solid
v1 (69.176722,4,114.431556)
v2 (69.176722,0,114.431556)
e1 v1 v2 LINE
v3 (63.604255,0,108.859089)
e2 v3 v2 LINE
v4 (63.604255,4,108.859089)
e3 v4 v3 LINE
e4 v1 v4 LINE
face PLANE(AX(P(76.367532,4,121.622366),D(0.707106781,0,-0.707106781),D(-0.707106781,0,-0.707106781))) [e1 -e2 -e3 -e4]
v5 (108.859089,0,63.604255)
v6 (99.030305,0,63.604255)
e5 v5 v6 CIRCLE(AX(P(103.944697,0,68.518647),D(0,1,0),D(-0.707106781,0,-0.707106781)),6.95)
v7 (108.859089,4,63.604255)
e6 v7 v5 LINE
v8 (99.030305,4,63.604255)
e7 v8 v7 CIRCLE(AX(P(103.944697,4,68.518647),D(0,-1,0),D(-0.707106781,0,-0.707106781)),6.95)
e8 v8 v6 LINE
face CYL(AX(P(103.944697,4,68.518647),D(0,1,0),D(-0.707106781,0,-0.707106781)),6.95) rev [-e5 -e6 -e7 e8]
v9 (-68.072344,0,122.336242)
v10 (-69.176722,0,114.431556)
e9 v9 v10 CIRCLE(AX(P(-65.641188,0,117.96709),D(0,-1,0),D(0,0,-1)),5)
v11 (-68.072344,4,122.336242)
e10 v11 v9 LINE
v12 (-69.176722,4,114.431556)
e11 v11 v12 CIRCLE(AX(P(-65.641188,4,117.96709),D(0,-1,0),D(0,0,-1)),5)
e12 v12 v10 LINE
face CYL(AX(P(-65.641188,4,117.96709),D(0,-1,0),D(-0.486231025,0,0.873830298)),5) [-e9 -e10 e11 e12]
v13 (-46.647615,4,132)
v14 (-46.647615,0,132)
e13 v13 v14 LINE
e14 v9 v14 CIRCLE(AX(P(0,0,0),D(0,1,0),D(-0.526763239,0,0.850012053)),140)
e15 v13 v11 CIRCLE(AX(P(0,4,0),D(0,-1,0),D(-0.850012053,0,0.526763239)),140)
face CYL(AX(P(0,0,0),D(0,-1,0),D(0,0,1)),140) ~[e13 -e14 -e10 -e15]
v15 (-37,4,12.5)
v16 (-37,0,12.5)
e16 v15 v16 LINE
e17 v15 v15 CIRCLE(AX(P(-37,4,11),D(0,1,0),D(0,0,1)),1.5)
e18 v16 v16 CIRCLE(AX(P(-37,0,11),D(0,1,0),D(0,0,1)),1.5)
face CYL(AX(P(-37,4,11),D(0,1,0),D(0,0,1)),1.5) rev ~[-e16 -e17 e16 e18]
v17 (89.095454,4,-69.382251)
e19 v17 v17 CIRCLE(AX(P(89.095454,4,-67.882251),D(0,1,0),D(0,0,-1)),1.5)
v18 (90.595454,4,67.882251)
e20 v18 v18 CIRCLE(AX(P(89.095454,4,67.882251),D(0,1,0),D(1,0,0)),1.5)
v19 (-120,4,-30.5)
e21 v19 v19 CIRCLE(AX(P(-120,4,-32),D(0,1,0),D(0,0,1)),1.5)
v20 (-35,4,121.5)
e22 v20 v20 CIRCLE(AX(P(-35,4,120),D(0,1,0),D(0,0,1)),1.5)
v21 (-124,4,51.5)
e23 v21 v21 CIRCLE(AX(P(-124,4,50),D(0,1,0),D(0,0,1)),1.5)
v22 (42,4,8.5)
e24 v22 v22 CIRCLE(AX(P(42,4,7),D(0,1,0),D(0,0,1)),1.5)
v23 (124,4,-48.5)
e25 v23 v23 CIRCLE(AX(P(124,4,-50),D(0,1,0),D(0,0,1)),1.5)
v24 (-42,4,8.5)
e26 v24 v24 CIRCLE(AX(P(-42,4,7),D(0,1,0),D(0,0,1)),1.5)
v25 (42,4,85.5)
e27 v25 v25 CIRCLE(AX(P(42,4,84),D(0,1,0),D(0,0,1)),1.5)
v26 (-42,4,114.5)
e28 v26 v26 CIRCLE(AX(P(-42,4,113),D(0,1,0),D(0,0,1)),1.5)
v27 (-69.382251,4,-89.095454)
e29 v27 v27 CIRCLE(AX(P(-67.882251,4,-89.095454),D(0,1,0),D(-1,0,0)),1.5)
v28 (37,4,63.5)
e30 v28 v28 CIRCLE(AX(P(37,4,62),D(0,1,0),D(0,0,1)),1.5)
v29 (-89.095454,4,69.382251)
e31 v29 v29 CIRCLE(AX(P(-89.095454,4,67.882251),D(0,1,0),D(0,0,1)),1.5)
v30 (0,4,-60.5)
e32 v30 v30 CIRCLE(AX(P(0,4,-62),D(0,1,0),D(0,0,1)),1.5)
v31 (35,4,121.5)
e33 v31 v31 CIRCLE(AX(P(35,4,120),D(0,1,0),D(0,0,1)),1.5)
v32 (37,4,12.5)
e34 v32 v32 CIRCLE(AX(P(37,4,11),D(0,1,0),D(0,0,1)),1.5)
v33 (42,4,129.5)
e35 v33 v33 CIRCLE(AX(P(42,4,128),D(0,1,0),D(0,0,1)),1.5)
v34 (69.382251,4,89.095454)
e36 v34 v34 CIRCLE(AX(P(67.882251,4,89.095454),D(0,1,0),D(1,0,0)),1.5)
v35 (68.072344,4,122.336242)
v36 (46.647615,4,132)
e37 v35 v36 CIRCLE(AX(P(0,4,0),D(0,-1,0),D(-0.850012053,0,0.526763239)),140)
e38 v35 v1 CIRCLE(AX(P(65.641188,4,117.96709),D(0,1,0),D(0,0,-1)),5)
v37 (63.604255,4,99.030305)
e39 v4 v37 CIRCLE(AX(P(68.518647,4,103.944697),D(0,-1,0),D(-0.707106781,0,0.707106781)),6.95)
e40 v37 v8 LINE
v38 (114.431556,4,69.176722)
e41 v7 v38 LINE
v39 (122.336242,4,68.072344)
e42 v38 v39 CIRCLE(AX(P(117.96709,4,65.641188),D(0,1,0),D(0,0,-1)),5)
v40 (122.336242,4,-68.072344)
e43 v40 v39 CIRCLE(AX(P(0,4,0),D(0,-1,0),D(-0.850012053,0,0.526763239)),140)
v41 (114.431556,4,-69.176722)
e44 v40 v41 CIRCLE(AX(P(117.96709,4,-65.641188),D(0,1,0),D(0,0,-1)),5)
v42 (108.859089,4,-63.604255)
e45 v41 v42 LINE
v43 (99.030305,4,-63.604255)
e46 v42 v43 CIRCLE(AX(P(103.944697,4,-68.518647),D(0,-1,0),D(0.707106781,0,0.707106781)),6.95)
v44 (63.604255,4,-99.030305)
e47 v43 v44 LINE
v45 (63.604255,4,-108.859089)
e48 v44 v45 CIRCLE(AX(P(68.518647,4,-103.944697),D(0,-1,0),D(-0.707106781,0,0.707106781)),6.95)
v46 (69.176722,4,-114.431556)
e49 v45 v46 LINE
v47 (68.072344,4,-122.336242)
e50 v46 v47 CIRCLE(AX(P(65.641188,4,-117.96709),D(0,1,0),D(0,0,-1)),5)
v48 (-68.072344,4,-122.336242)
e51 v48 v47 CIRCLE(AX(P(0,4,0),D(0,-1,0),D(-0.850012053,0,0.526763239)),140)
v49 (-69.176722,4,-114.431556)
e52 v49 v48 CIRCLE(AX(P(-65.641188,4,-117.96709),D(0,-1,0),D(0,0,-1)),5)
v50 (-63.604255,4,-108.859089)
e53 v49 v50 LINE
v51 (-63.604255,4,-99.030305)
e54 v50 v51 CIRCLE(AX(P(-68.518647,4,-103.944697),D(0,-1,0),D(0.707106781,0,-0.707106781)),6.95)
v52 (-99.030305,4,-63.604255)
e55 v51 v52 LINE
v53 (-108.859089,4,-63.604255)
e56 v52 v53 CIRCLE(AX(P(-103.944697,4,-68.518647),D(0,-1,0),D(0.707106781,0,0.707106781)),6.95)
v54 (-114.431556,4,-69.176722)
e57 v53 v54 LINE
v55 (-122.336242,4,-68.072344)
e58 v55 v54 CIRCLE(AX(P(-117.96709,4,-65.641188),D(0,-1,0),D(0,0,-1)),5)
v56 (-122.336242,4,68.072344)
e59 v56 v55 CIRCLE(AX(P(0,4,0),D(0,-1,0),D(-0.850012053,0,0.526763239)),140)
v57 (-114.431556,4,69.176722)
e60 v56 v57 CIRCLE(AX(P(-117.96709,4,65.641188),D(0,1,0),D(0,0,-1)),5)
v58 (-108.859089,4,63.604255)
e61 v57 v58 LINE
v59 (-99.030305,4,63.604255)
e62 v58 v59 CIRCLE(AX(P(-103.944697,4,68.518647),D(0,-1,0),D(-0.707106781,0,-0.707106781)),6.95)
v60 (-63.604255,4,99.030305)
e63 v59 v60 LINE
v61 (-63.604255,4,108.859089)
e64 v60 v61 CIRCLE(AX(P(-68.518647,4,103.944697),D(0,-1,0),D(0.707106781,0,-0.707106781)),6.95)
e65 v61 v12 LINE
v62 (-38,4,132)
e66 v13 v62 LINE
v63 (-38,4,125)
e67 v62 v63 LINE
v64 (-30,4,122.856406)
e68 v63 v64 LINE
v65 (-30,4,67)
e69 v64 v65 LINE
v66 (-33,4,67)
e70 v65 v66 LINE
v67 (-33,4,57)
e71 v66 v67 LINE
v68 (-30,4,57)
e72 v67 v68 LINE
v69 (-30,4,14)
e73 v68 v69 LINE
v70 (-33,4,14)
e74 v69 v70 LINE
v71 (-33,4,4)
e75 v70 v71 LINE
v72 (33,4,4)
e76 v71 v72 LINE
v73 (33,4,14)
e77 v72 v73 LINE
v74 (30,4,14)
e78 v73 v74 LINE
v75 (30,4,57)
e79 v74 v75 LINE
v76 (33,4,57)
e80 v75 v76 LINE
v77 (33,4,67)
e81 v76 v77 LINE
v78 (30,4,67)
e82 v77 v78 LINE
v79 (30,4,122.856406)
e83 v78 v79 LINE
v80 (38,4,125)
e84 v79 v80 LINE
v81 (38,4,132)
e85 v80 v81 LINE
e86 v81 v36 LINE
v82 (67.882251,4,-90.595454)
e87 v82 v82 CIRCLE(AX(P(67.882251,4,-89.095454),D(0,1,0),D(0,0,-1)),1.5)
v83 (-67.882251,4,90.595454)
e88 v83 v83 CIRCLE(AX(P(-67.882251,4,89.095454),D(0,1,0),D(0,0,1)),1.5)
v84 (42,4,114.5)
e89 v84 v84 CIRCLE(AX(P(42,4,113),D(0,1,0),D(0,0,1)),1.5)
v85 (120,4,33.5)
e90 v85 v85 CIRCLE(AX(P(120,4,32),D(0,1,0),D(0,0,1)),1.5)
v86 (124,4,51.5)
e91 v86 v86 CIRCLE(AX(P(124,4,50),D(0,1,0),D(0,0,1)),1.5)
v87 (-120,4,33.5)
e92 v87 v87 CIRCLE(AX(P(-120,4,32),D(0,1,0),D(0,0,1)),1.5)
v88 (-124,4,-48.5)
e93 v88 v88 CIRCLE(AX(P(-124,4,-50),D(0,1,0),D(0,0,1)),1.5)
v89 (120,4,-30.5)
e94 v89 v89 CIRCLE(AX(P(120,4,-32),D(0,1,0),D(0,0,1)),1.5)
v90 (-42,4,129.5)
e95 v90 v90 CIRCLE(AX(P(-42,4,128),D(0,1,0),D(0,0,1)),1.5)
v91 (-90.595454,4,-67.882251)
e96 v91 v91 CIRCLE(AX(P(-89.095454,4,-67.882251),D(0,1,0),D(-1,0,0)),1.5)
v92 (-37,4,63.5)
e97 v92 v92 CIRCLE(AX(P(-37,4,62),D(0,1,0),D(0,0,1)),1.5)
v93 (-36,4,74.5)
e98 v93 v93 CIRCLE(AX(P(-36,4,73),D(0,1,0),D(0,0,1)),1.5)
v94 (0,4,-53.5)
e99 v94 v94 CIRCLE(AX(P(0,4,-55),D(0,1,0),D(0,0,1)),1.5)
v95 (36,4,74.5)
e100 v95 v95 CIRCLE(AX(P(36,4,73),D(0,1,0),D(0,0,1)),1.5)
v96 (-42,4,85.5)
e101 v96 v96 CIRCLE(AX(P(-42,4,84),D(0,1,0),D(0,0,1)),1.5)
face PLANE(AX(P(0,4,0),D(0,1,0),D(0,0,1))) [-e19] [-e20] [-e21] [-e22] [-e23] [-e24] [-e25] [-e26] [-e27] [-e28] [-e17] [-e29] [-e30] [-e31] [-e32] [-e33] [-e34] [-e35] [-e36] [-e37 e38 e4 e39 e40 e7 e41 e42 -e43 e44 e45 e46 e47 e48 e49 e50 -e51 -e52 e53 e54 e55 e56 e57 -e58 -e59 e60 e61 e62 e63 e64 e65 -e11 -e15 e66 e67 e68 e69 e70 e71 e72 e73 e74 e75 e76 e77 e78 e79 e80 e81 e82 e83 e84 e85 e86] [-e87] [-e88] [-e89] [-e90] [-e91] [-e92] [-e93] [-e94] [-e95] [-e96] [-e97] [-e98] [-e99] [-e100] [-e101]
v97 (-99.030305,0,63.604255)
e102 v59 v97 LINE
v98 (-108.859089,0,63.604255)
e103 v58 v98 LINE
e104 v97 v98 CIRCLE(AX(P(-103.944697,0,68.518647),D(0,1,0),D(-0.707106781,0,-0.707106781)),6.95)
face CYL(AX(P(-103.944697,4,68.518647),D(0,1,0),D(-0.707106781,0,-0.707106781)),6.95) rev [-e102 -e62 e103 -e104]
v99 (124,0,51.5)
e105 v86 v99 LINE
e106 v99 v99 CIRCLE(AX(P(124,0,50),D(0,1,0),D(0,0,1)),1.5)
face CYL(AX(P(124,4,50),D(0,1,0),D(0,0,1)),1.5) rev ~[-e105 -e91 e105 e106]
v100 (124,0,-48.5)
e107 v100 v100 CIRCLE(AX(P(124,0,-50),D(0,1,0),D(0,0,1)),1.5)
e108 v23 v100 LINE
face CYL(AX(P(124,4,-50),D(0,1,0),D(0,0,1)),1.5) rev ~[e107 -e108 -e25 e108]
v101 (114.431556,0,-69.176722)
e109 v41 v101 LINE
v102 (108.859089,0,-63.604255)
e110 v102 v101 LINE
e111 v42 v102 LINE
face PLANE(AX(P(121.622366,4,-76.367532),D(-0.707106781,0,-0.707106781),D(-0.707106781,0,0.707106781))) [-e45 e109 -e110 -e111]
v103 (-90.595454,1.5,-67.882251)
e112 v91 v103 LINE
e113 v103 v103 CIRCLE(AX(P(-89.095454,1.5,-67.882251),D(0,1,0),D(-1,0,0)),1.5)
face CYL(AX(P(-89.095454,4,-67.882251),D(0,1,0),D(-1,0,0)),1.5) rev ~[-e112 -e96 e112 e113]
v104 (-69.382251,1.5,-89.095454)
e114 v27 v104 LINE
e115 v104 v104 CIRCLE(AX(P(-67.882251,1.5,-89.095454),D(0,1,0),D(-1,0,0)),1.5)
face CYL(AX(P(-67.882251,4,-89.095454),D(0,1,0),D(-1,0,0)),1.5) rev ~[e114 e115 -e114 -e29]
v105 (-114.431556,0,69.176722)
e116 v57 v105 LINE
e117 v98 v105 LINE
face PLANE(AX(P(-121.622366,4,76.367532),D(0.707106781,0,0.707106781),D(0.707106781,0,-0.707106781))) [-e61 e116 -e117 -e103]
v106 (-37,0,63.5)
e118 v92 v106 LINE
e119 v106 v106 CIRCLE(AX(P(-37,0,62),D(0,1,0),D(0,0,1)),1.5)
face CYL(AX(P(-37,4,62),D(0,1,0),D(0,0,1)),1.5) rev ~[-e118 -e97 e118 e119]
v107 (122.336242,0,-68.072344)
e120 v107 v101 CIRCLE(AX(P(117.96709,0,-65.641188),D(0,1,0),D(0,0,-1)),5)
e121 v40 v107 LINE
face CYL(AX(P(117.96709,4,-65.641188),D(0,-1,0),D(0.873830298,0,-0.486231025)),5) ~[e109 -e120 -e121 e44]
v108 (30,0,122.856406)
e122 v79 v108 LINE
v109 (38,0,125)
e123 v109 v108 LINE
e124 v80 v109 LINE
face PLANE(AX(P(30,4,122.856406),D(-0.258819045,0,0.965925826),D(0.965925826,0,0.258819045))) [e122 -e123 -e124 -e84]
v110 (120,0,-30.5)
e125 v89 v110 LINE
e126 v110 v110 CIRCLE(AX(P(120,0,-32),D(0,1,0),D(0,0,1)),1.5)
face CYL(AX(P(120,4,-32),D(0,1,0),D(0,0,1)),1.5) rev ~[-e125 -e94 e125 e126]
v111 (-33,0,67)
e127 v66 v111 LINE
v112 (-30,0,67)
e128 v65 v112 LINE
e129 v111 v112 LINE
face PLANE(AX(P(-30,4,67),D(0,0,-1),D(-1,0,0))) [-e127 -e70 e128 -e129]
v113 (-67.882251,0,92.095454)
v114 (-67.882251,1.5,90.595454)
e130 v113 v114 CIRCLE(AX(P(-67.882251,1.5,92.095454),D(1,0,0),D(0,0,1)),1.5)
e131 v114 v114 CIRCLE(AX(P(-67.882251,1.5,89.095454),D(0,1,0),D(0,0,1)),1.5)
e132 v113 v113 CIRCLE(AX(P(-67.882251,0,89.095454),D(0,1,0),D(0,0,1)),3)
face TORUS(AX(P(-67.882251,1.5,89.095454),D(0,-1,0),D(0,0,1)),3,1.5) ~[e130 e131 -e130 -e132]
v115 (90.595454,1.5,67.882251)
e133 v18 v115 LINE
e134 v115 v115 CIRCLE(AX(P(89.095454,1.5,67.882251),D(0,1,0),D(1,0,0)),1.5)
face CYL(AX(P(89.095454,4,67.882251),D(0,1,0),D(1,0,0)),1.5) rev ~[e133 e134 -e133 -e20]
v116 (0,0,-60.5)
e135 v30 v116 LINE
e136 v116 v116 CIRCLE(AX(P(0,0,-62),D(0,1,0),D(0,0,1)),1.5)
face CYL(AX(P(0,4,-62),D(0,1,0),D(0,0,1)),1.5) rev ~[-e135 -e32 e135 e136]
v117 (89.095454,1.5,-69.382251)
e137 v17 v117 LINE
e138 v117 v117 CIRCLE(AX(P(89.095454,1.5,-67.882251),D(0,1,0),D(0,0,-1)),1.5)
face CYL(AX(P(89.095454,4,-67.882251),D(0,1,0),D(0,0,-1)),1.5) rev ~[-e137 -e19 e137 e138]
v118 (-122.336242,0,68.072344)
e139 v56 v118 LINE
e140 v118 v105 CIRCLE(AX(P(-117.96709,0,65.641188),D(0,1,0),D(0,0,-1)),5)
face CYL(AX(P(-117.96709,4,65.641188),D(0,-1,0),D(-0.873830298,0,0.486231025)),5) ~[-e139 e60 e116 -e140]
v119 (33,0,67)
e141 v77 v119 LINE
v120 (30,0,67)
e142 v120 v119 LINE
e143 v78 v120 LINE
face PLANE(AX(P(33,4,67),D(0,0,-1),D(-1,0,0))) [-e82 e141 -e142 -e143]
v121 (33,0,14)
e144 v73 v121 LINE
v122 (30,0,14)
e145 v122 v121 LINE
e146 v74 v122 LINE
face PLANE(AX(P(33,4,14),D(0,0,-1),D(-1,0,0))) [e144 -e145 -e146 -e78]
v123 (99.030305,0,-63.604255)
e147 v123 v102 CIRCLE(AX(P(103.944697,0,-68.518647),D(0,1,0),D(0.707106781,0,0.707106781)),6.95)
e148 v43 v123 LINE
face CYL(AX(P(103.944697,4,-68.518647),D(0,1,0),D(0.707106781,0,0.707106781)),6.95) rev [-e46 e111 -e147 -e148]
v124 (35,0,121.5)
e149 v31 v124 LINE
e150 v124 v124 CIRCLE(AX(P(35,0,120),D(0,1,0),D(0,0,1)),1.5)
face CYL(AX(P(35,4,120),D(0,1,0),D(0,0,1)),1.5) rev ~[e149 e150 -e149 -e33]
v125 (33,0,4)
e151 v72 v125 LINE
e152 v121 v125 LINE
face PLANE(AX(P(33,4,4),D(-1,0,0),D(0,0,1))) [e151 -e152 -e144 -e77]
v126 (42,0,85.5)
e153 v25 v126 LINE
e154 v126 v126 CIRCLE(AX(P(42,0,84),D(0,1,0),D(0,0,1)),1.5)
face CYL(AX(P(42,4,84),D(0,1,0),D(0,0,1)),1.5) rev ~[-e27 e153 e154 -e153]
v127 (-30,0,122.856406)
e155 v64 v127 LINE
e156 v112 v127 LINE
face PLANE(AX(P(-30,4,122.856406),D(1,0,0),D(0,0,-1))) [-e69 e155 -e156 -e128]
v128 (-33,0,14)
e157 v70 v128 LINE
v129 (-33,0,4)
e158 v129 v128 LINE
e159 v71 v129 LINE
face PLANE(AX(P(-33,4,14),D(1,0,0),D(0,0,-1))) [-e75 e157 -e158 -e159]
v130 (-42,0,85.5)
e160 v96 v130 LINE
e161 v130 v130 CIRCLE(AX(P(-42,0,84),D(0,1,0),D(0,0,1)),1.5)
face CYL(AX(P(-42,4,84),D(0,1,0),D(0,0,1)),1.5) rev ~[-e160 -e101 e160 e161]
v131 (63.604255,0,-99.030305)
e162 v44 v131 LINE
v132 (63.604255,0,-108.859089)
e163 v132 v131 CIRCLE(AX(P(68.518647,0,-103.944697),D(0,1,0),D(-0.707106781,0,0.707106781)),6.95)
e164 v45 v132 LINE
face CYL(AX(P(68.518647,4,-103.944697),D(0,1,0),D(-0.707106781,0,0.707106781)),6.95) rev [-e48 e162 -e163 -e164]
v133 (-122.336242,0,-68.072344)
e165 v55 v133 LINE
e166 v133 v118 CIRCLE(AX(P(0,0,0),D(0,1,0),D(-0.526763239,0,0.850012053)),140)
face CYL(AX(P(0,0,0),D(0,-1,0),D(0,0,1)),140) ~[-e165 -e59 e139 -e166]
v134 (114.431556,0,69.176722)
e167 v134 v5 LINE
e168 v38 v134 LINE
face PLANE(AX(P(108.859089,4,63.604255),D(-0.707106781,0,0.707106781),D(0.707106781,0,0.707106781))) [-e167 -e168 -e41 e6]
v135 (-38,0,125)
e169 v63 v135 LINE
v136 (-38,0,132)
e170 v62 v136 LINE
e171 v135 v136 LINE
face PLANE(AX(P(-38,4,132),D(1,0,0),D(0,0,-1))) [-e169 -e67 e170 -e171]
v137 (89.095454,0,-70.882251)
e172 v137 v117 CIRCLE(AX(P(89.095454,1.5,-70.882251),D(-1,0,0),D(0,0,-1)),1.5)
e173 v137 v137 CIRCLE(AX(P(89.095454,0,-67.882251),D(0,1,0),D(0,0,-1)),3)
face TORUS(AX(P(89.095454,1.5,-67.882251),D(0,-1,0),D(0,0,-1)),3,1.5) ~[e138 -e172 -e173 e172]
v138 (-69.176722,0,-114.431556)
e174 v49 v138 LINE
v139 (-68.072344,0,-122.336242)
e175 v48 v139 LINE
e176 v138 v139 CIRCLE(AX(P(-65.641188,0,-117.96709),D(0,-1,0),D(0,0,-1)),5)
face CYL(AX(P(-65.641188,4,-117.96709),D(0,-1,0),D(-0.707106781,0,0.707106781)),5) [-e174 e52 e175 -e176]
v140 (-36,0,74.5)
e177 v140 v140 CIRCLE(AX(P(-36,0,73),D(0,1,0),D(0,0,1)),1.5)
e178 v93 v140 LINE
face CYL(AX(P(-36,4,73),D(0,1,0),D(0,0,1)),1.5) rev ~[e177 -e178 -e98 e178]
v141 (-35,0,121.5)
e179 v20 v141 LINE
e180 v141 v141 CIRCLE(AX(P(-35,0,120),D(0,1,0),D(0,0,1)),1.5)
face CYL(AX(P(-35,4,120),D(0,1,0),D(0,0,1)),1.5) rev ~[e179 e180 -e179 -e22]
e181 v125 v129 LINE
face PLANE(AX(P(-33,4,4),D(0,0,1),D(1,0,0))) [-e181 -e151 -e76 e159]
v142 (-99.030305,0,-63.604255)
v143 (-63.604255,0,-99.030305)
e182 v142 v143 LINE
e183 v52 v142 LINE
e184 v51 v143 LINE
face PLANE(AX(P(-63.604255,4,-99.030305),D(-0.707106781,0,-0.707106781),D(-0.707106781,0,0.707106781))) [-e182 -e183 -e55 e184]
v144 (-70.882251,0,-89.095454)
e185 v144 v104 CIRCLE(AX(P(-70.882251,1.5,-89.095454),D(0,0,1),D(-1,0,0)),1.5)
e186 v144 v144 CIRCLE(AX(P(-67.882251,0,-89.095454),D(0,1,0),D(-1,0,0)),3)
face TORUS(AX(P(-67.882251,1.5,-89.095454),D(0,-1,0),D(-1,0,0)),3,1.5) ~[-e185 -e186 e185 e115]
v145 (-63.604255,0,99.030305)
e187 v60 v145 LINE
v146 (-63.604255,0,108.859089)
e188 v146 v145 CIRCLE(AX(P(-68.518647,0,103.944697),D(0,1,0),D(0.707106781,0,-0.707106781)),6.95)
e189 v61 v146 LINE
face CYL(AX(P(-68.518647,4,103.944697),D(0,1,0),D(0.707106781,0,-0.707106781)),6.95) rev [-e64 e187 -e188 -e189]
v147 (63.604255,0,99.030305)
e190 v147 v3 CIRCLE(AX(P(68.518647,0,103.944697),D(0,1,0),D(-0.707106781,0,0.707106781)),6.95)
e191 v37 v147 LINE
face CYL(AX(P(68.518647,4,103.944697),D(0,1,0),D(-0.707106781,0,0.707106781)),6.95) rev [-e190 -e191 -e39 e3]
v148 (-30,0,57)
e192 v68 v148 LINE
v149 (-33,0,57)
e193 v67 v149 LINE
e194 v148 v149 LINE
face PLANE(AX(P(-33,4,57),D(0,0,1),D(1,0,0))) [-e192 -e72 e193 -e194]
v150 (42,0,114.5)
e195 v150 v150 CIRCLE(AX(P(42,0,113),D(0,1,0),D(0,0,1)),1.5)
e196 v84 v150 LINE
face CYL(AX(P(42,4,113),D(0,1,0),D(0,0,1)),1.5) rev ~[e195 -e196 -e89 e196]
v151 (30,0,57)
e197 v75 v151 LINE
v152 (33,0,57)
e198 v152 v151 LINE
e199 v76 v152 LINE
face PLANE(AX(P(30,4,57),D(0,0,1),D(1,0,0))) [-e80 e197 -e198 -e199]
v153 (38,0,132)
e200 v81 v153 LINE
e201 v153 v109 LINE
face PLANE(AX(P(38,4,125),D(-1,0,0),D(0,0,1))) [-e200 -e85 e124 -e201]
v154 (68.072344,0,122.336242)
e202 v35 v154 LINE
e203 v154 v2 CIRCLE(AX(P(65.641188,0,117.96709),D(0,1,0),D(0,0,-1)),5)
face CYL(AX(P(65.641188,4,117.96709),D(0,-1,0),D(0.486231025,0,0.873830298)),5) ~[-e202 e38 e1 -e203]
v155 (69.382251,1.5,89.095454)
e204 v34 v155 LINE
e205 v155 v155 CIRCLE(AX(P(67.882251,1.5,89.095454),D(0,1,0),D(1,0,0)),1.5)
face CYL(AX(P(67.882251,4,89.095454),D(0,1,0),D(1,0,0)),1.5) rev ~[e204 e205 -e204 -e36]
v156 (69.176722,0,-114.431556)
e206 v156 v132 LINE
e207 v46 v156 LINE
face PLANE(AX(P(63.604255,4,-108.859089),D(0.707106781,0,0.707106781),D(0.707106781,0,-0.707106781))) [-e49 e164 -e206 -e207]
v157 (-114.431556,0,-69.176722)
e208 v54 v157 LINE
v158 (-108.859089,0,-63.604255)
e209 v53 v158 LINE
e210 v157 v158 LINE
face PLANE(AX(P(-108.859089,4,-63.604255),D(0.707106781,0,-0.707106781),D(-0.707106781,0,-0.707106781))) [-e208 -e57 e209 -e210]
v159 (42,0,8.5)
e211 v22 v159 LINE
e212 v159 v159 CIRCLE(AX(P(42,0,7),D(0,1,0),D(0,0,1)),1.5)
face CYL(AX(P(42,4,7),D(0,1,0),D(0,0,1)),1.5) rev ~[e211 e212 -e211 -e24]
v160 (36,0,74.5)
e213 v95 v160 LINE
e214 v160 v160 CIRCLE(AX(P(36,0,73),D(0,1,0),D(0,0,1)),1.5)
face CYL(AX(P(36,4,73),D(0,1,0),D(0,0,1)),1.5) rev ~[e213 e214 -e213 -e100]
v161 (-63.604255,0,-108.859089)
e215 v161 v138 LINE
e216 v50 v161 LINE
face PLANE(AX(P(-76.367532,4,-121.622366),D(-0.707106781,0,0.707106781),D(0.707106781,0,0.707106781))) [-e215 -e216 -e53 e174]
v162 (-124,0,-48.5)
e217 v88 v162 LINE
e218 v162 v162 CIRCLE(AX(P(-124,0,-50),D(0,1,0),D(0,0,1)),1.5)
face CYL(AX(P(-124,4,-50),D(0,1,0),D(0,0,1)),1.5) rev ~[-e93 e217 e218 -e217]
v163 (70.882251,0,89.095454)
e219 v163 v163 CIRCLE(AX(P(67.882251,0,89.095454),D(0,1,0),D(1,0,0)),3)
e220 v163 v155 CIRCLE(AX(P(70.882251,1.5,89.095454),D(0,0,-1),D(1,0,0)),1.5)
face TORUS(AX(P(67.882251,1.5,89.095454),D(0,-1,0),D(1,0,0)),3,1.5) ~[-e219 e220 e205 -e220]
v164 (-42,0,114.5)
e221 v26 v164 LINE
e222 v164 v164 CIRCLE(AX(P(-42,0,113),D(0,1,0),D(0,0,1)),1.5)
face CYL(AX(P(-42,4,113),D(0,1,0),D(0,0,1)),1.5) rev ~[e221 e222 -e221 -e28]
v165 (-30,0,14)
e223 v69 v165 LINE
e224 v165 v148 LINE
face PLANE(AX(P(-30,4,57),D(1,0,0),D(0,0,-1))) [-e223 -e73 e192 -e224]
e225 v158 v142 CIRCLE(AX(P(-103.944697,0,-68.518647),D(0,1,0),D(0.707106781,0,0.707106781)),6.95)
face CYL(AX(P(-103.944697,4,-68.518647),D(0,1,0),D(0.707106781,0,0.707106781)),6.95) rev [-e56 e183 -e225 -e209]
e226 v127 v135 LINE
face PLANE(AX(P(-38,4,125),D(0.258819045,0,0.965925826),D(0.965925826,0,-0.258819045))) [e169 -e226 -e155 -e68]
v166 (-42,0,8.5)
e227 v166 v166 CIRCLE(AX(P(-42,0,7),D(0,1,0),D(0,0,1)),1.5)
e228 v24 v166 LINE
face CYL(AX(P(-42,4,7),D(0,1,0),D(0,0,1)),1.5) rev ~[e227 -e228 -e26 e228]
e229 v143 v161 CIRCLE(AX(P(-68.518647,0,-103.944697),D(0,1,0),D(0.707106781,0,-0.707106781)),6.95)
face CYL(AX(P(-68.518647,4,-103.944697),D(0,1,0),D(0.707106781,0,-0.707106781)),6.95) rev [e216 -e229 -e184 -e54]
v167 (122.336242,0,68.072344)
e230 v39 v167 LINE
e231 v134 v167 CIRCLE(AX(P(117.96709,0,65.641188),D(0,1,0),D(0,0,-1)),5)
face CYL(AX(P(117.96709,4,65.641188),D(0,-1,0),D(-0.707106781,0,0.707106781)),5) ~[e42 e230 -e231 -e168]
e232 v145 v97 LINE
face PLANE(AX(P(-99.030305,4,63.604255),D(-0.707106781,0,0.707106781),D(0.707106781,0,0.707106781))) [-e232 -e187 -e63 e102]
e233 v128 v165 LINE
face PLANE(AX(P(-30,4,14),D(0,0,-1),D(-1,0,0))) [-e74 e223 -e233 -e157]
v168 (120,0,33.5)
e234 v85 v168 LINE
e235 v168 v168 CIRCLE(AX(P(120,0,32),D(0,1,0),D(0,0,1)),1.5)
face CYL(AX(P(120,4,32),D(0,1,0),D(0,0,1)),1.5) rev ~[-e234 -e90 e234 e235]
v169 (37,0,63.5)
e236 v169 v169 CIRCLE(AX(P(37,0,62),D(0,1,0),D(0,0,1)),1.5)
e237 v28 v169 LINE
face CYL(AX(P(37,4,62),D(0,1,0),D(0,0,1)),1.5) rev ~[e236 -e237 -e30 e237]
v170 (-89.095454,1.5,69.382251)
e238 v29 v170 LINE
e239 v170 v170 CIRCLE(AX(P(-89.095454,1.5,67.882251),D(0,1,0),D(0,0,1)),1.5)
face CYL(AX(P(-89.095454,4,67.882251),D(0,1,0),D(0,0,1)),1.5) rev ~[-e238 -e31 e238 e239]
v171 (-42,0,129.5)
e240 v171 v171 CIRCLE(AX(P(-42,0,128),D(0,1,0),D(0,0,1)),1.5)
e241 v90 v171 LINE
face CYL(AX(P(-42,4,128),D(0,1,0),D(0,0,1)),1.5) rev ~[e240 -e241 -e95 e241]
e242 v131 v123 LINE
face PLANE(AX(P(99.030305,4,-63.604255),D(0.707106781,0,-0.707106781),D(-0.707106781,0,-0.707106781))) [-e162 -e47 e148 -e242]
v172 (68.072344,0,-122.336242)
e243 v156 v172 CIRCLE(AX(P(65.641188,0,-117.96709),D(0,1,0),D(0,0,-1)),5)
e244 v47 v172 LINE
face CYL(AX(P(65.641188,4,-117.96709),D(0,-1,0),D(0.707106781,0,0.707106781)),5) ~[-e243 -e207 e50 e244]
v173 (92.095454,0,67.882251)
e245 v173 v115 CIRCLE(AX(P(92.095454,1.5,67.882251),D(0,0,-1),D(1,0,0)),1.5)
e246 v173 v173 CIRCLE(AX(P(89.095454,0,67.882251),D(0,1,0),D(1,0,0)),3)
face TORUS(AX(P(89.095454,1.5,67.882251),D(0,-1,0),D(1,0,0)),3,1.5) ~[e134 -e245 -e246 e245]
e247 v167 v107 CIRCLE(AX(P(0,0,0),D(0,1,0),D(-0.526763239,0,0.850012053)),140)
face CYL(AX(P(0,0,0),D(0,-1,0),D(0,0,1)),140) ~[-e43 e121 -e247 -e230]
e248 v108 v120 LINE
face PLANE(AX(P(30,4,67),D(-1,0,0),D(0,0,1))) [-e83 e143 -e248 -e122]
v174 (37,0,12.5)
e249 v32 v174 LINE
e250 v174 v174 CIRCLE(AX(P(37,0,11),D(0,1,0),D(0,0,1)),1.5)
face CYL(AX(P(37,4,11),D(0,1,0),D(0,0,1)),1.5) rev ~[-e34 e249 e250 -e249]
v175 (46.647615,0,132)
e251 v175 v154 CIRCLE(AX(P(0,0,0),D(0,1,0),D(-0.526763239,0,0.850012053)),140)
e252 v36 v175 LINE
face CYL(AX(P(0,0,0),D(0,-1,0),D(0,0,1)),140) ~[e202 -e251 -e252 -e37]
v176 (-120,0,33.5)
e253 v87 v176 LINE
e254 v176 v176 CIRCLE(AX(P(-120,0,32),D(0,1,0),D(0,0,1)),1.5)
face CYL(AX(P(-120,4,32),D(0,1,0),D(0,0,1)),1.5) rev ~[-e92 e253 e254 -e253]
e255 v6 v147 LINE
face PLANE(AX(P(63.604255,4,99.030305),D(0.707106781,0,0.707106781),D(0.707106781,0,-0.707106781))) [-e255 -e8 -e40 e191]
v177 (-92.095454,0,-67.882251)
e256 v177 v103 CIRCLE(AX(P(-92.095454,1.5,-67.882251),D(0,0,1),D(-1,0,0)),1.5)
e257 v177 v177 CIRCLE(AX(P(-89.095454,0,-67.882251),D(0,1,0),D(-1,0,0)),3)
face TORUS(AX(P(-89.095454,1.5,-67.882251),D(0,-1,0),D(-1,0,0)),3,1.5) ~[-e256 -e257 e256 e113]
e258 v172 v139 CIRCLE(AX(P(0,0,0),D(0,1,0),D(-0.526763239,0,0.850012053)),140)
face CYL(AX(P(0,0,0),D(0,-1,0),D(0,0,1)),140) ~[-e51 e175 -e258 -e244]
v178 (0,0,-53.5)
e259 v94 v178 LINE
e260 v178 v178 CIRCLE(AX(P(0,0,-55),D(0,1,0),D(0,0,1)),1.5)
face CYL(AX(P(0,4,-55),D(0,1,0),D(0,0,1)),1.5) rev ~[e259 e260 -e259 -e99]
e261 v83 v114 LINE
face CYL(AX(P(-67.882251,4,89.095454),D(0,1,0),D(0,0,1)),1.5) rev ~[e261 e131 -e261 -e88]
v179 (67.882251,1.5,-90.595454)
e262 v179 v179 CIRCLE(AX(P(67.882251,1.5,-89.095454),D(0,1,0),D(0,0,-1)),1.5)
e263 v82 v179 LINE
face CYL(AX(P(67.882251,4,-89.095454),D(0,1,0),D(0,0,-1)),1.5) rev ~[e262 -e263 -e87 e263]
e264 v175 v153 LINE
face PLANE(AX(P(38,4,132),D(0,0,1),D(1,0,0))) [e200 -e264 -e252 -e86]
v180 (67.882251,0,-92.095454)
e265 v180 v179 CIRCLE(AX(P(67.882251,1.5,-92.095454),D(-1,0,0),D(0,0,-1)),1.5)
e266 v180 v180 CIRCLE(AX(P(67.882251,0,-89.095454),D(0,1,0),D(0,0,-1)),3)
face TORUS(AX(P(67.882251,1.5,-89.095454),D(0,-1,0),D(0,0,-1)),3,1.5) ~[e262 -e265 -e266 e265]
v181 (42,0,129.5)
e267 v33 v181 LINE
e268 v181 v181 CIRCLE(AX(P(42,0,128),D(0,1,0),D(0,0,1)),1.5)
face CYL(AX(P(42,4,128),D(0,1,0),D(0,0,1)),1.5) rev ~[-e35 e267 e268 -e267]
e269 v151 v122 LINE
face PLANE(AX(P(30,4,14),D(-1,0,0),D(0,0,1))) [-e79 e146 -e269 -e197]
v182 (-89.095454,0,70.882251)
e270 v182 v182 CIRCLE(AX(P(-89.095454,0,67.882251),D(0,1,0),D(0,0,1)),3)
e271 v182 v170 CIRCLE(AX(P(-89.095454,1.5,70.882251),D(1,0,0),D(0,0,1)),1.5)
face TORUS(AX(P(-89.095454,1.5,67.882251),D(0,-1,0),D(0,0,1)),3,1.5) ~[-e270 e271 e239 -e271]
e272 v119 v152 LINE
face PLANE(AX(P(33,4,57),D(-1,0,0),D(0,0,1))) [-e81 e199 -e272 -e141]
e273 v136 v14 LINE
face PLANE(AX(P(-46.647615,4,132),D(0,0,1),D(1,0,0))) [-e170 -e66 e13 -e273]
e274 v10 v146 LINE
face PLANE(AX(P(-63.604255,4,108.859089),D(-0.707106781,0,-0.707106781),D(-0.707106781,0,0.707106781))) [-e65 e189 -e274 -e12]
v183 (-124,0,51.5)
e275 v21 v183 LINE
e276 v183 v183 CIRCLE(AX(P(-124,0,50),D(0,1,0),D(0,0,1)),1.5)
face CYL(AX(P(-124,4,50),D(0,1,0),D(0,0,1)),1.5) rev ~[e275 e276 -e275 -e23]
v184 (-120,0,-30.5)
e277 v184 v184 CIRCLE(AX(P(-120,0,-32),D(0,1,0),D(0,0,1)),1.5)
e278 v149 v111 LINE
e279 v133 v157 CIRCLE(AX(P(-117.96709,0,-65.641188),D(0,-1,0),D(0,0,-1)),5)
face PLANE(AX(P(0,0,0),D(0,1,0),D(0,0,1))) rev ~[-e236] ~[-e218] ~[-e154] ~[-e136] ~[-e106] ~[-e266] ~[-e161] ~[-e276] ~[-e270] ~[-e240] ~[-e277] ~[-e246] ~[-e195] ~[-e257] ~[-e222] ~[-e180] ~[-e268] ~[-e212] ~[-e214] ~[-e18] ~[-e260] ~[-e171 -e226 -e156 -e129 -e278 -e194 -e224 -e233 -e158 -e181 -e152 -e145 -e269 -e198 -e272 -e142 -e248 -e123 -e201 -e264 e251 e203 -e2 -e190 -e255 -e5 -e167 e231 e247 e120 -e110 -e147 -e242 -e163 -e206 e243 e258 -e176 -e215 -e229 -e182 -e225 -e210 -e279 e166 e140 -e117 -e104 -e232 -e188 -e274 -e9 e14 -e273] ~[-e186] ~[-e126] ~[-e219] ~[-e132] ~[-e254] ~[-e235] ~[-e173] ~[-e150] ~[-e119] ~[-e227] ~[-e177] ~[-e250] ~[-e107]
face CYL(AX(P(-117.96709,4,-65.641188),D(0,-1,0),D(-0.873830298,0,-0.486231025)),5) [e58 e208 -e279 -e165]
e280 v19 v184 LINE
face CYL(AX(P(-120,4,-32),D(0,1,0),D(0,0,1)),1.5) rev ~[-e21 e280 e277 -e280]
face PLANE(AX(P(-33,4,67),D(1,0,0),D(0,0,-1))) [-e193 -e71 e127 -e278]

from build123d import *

# Parameters (mm, degrees)
SKETCH1_R                = 140
BOSS_EXTRUDE1_DEPTH      = 4
CUT_EXTRUDE4_REACH       = 200.03
CUT_EXTRUDE6_REACH       = 200.03
SKETCH9_R                = 1.5
FILLET1_R                = 5
CIRPATTERN1_COUNT        = 4
FILLET1_OF_CIRPATTERN1_R = 5
CUT_EXTRUDE1_REACH       = 200.03
FILLET3_R                = 1.5
CUT_EXTRUDE7_REACH       = 200.03
SKETCH10_R               = 1.5
CUT_EXTRUDE9_REACH       = 200.03
SKETCH13_R               = 1.5
CUT_EXTRUDE12_REACH      = 200.03
SKETCH16_R               = 1.5
CUT_EXTRUDE13_REACH      = 200.03
SKETCH17_R               = 1.5
CUT_EXTRUDE15_REACH      = 200.03
SKETCH19_R               = 1.5
CUT_EXTRUDE17_REACH      = 200.03
SKETCH21_R               = 1.5
CUT_EXTRUDE18_REACH      = 200.03
SKETCH22_R               = 1.5


with BuildPart() as part:
    # Sketch1 → Boss-Extrude1 (new body)
    with BuildSketch(Plane(origin=(0, 0, 0), x_dir=(1, 0, 0), z_dir=(0, 1, 0))):
        with Locations(Location((0, 0, 0), (0, 0, 270))):
            Circle(SKETCH1_R)
    extrude(amount=BOSS_EXTRUDE1_DEPTH)

    # Sketch7 → Cut-Extrude4 (cut, up to next)
    with BuildSketch(Plane(origin=(0, 4, 0), x_dir=(1, 0, 0), z_dir=(0, 1, 0)), mode=Mode.PRIVATE) as cut_extrude4_sk1:
        with BuildLine():
            Line((-99.030304705, -63.604254968), (-63.604254968, -99.030304705))
            ThreePointArc((-63.604254968, -99.030304705), (-61.568647097, -103.944696834), (-63.604254968, -108.859088964))
            Line((-63.604254968, -108.859088964), (-76.367532368, -121.622366364))
            Line((-76.367532368, -121.622366364), (-121.622366364, -76.367532368))
            Line((-121.622366364, -76.367532368), (-108.859088964, -63.604254968))
            ThreePointArc((-108.859088964, -63.604254968), (-103.944696834, -61.568647097), (-99.030304705, -63.604254968))
        make_face()
    cut_extrude4_tool1 = extrude(cut_extrude4_sk1.sketch, amount=-CUT_EXTRUDE4_REACH, mode=Mode.PRIVATE) & part.part
    cut_extrude4 = cut_extrude4_tool1.solids().sort_by_distance((-90.257735, 4, 90.257735))[0]
    add(cut_extrude4, mode=Mode.SUBTRACT)

    # Sketch9 → Cut-Extrude6 (cut, up to next)
    with BuildSketch(Plane(origin=(0, 4, 0), x_dir=(1, 0, 0), z_dir=(0, 1, 0)), mode=Mode.PRIVATE) as cut_extrude6_sk1:
        with Locations(Location((-89.09545443, -67.882250994, 0), (0, 0, 270))):
            Circle(SKETCH9_R)
    cut_extrude6_tool1 = extrude(cut_extrude6_sk1.sketch, amount=-CUT_EXTRUDE6_REACH, mode=Mode.PRIVATE) & part.part
    # Sketch9 → Cut-Extrude6 (cut, up to next)
    with BuildSketch(Plane(origin=(0, 4, 0), x_dir=(1, 0, 0), z_dir=(0, 1, 0)), mode=Mode.PRIVATE) as cut_extrude6_sk2:
        with Locations(Location((-67.882250994, -89.09545443, 0), (0, 0, 270))):
            Circle(SKETCH9_R)
    cut_extrude6_tool2 = extrude(cut_extrude6_sk2.sketch, amount=-CUT_EXTRUDE6_REACH, mode=Mode.PRIVATE) & part.part
    cut_extrude6_1 = cut_extrude6_tool1.solids().sort_by_distance((-89.095454, 4, 67.882251))[0]
    add(cut_extrude6_1, mode=Mode.SUBTRACT)
    cut_extrude6_2 = cut_extrude6_tool2.solids().sort_by_distance((-67.882251, 4, 89.095454))[0]
    add(cut_extrude6_2, mode=Mode.SUBTRACT)
    cut_extrude6 = cut_extrude6_1 + cut_extrude6_2  # Cut-Extrude6 as one shape, for the pattern or mirror that repeats it

    # Fillet1
    fillet1_edges = [part.edges().sort_by_distance(p)[0] for p in [
        (-119.001687423, 2, 73.746853427),
        (-73.746853427, 2, 119.001687423),
    ]]
    fillet(fillet1_edges, radius=FILLET1_R)

    # CirPattern1: Cut-Extrude4, Cut-Extrude6 ×4 about axis
    cirpattern1_axis = Axis((0, 0, 0), (0, 1, 0))
    add([cut_extrude4.rotate(cirpattern1_axis, i * 360 / CIRPATTERN1_COUNT) for i in range(1, CIRPATTERN1_COUNT)], mode=Mode.SUBTRACT)
    add([cut_extrude6.rotate(cirpattern1_axis, i * 360 / CIRPATTERN1_COUNT) for i in range(1, CIRPATTERN1_COUNT)], mode=Mode.SUBTRACT)

    # Fillet1 of CirPattern1
    fillet1_of_cirpattern1_edges = [part.edges().sort_by_distance(p)[0] for p in [
        (73.746853427, 2, 119.001687423),
        (119.001687423, 2, 73.746853427),
        (119.001687423, 2, -73.746853427),
        (73.746853427, 2, -119.001687423),
        (-73.746853427, 2, -119.001687423),
        (-119.001687423, 2, -73.746853427),
    ]]
    fillet(fillet1_of_cirpattern1_edges, radius=FILLET1_OF_CIRPATTERN1_R)

    # Sketch2 → Cut-Extrude1 (cut, up to next)
    with BuildSketch(Plane(origin=(0, 4, 0), x_dir=(1, 0, 0), z_dir=(0, 1, 0)), mode=Mode.PRIVATE) as cut_extrude1_sk1:
        Polygon((-46.647615159, -132), (-38, -132), (-38, -125), (-30, -122.856406461), (-30, -67), (-33, -67), (-33, -57), (-30, -57), (-30, -14), (-33, -14), (-33, -4), (33, -4), (33, -14), (30, -14), (30, -57), (33, -57), (33, -67), (30, -67), (30, -122.856406461), (38, -125), (38, -132), (46.647615159, -132), (46.647615159, -140), (-46.647615159, -140), align=None)
    cut_extrude1_tool1 = extrude(cut_extrude1_sk1.sketch, amount=-CUT_EXTRUDE1_REACH, mode=Mode.PRIVATE) & part.part
    add(cut_extrude1_tool1.solids().sort_by_distance((0, 4, 74.292867))[0], mode=Mode.SUBTRACT)

    # Fillet3
    fillet3_edges = [part.edges().sort_by_distance(p)[0] for p in [
        (66.382250994, 0, 89.09545443),
        (87.59545443, 0, 67.882250994),
        (89.09545443, 0, -66.382250994),
        (67.882250994, 0, -87.59545443),
        (-66.382250994, 0, -89.09545443),
        (-87.59545443, 0, -67.882250994),
        (-89.09545443, 0, 66.382250994),
        (-67.882250994, 0, 87.59545443),
    ]]
    fillet(fillet3_edges, radius=FILLET3_R)

    # Sketch10 → Cut-Extrude7 (cut, up to next)
    with BuildSketch(Plane(origin=(0, 4, 0), x_dir=(1, 0, 0), z_dir=(0, 1, 0)), mode=Mode.PRIVATE) as cut_extrude7_sk1:
        with Locations(Location((-37, -62, 0), (0, 0, 270))):
            Circle(SKETCH10_R)
    cut_extrude7_tool1 = extrude(cut_extrude7_sk1.sketch, amount=-CUT_EXTRUDE7_REACH, mode=Mode.PRIVATE) & part.part
    # Sketch10 → Cut-Extrude7 (cut, up to next)
    with BuildSketch(Plane(origin=(0, 4, 0), x_dir=(1, 0, 0), z_dir=(0, 1, 0)), mode=Mode.PRIVATE) as cut_extrude7_sk2:
        with Locations(Location((37, -62, 0), (0, 0, 270))):
            Circle(SKETCH10_R)
    cut_extrude7_tool2 = extrude(cut_extrude7_sk2.sketch, amount=-CUT_EXTRUDE7_REACH, mode=Mode.PRIVATE) & part.part
    # Sketch10 → Cut-Extrude7 (cut, up to next)
    with BuildSketch(Plane(origin=(0, 4, 0), x_dir=(1, 0, 0), z_dir=(0, 1, 0)), mode=Mode.PRIVATE) as cut_extrude7_sk3:
        with Locations(Location((-37, -11, 0), (0, 0, 270))):
            Circle(SKETCH10_R)
    cut_extrude7_tool3 = extrude(cut_extrude7_sk3.sketch, amount=-CUT_EXTRUDE7_REACH, mode=Mode.PRIVATE) & part.part
    # Sketch10 → Cut-Extrude7 (cut, up to next)
    with BuildSketch(Plane(origin=(0, 4, 0), x_dir=(1, 0, 0), z_dir=(0, 1, 0)), mode=Mode.PRIVATE) as cut_extrude7_sk4:
        with Locations(Location((37, -11, 0), (0, 0, 270))):
            Circle(SKETCH10_R)
    cut_extrude7_tool4 = extrude(cut_extrude7_sk4.sketch, amount=-CUT_EXTRUDE7_REACH, mode=Mode.PRIVATE) & part.part
    # Sketch10 → Cut-Extrude7 (cut, up to next)
    with BuildSketch(Plane(origin=(0, 4, 0), x_dir=(1, 0, 0), z_dir=(0, 1, 0)), mode=Mode.PRIVATE) as cut_extrude7_sk5:
        with Locations(Location((-42, -7, 0), (0, 0, 270))):
            Circle(SKETCH10_R)
    cut_extrude7_tool5 = extrude(cut_extrude7_sk5.sketch, amount=-CUT_EXTRUDE7_REACH, mode=Mode.PRIVATE) & part.part
    # Sketch10 → Cut-Extrude7 (cut, up to next)
    with BuildSketch(Plane(origin=(0, 4, 0), x_dir=(1, 0, 0), z_dir=(0, 1, 0)), mode=Mode.PRIVATE) as cut_extrude7_sk6:
        with Locations(Location((42, -7, 0), (0, 0, 270))):
            Circle(SKETCH10_R)
    cut_extrude7_tool6 = extrude(cut_extrude7_sk6.sketch, amount=-CUT_EXTRUDE7_REACH, mode=Mode.PRIVATE) & part.part
    add(cut_extrude7_tool1.solids().sort_by_distance((-37, 4, 62))[0], mode=Mode.SUBTRACT)
    add(cut_extrude7_tool2.solids().sort_by_distance((37, 4, 62))[0], mode=Mode.SUBTRACT)
    add(cut_extrude7_tool3.solids().sort_by_distance((-37, 4, 11))[0], mode=Mode.SUBTRACT)
    add(cut_extrude7_tool4.solids().sort_by_distance((37, 4, 11))[0], mode=Mode.SUBTRACT)
    add(cut_extrude7_tool5.solids().sort_by_distance((-42, 4, 7))[0], mode=Mode.SUBTRACT)
    add(cut_extrude7_tool6.solids().sort_by_distance((42, 4, 7))[0], mode=Mode.SUBTRACT)

    # Sketch13 → Cut-Extrude9 (cut, up to next)
    with BuildSketch(Plane(origin=(0, 4, 0), x_dir=(1, 0, 0), z_dir=(0, 1, 0)), mode=Mode.PRIVATE) as cut_extrude9_sk1:
        with Locations(Location((-42, -84, 0), (0, 0, 270))):
            Circle(SKETCH13_R)
    cut_extrude9_tool1 = extrude(cut_extrude9_sk1.sketch, amount=-CUT_EXTRUDE9_REACH, mode=Mode.PRIVATE) & part.part
    # Sketch13 → Cut-Extrude9 (cut, up to next)
    with BuildSketch(Plane(origin=(0, 4, 0), x_dir=(1, 0, 0), z_dir=(0, 1, 0)), mode=Mode.PRIVATE) as cut_extrude9_sk2:
        with Locations(Location((-42, -113, 0), (0, 0, 270))):
            Circle(SKETCH13_R)
    cut_extrude9_tool2 = extrude(cut_extrude9_sk2.sketch, amount=-CUT_EXTRUDE9_REACH, mode=Mode.PRIVATE) & part.part
    # Sketch13 → Cut-Extrude9 (cut, up to next)
    with BuildSketch(Plane(origin=(0, 4, 0), x_dir=(1, 0, 0), z_dir=(0, 1, 0)), mode=Mode.PRIVATE) as cut_extrude9_sk3:
        with Locations(Location((42, -113, 0), (0, 0, 270))):
            Circle(SKETCH13_R)
    cut_extrude9_tool3 = extrude(cut_extrude9_sk3.sketch, amount=-CUT_EXTRUDE9_REACH, mode=Mode.PRIVATE) & part.part
    # Sketch13 → Cut-Extrude9 (cut, up to next)
    with BuildSketch(Plane(origin=(0, 4, 0), x_dir=(1, 0, 0), z_dir=(0, 1, 0)), mode=Mode.PRIVATE) as cut_extrude9_sk4:
        with Locations(Location((42, -84, 0), (0, 0, 270))):
            Circle(SKETCH13_R)
    cut_extrude9_tool4 = extrude(cut_extrude9_sk4.sketch, amount=-CUT_EXTRUDE9_REACH, mode=Mode.PRIVATE) & part.part
    add(cut_extrude9_tool1.solids().sort_by_distance((-42, 4, 84))[0], mode=Mode.SUBTRACT)
    add(cut_extrude9_tool2.solids().sort_by_distance((-42, 4, 113))[0], mode=Mode.SUBTRACT)
    add(cut_extrude9_tool3.solids().sort_by_distance((42, 4, 113))[0], mode=Mode.SUBTRACT)
    add(cut_extrude9_tool4.solids().sort_by_distance((42, 4, 84))[0], mode=Mode.SUBTRACT)

    # Sketch16 → Cut-Extrude12 (cut, up to next)
    with BuildSketch(Plane(origin=(0, 4, 0), x_dir=(1, 0, 0), z_dir=(0, 1, 0)), mode=Mode.PRIVATE) as cut_extrude12_sk1:
        with Locations(Location((0, 62, 0), (0, 0, 270))):
            Circle(SKETCH16_R)
    cut_extrude12_tool1 = extrude(cut_extrude12_sk1.sketch, amount=-CUT_EXTRUDE12_REACH, mode=Mode.PRIVATE) & part.part
    # Sketch16 → Cut-Extrude12 (cut, up to next)
    with BuildSketch(Plane(origin=(0, 4, 0), x_dir=(1, 0, 0), z_dir=(0, 1, 0)), mode=Mode.PRIVATE) as cut_extrude12_sk2:
        with Locations(Location((0, 55, 0), (0, 0, 270))):
            Circle(SKETCH16_R)
    cut_extrude12_tool2 = extrude(cut_extrude12_sk2.sketch, amount=-CUT_EXTRUDE12_REACH, mode=Mode.PRIVATE) & part.part
    add(cut_extrude12_tool1.solids().sort_by_distance((0, 4, -62))[0], mode=Mode.SUBTRACT)
    add(cut_extrude12_tool2.solids().sort_by_distance((0, 4, -55))[0], mode=Mode.SUBTRACT)

    # Sketch17 → Cut-Extrude13 (cut, up to next)
    with BuildSketch(Plane(origin=(0, 4, 0), x_dir=(1, 0, 0), z_dir=(0, 1, 0)), mode=Mode.PRIVATE) as cut_extrude13_sk1:
        with Locations(Location((-124, 50, 0), (0, 0, 270))):
            Circle(SKETCH17_R)
    cut_extrude13_tool1 = extrude(cut_extrude13_sk1.sketch, amount=-CUT_EXTRUDE13_REACH, mode=Mode.PRIVATE) & part.part
    # Sketch17 → Cut-Extrude13 (cut, up to next)
    with BuildSketch(Plane(origin=(0, 4, 0), x_dir=(1, 0, 0), z_dir=(0, 1, 0)), mode=Mode.PRIVATE) as cut_extrude13_sk2:
        with Locations(Location((-124, -50, 0), (0, 0, 270))):
            Circle(SKETCH17_R)
    cut_extrude13_tool2 = extrude(cut_extrude13_sk2.sketch, amount=-CUT_EXTRUDE13_REACH, mode=Mode.PRIVATE) & part.part
    # Sketch17 → Cut-Extrude13 (cut, up to next)
    with BuildSketch(Plane(origin=(0, 4, 0), x_dir=(1, 0, 0), z_dir=(0, 1, 0)), mode=Mode.PRIVATE) as cut_extrude13_sk3:
        with Locations(Location((124, 50, 0), (0, 0, 270))):
            Circle(SKETCH17_R)
    cut_extrude13_tool3 = extrude(cut_extrude13_sk3.sketch, amount=-CUT_EXTRUDE13_REACH, mode=Mode.PRIVATE) & part.part
    # Sketch17 → Cut-Extrude13 (cut, up to next)
    with BuildSketch(Plane(origin=(0, 4, 0), x_dir=(1, 0, 0), z_dir=(0, 1, 0)), mode=Mode.PRIVATE) as cut_extrude13_sk4:
        with Locations(Location((124, -50, 0), (0, 0, 270))):
            Circle(SKETCH17_R)
    cut_extrude13_tool4 = extrude(cut_extrude13_sk4.sketch, amount=-CUT_EXTRUDE13_REACH, mode=Mode.PRIVATE) & part.part
    add(cut_extrude13_tool1.solids().sort_by_distance((-124, 4, -50))[0], mode=Mode.SUBTRACT)
    add(cut_extrude13_tool2.solids().sort_by_distance((-124, 4, 50))[0], mode=Mode.SUBTRACT)
    add(cut_extrude13_tool3.solids().sort_by_distance((124, 4, -50))[0], mode=Mode.SUBTRACT)
    add(cut_extrude13_tool4.solids().sort_by_distance((124, 4, 50))[0], mode=Mode.SUBTRACT)

    # Sketch19 → Cut-Extrude15 (cut, up to next)
    with BuildSketch(Plane(origin=(0, 4, 0), x_dir=(1, 0, 0), z_dir=(0, 1, 0)), mode=Mode.PRIVATE) as cut_extrude15_sk1:
        with Locations(Location((-42, -128, 0), (0, 0, 270))):
            Circle(SKETCH19_R)
    cut_extrude15_tool1 = extrude(cut_extrude15_sk1.sketch, amount=-CUT_EXTRUDE15_REACH, mode=Mode.PRIVATE) & part.part
    # Sketch19 → Cut-Extrude15 (cut, up to next)
    with BuildSketch(Plane(origin=(0, 4, 0), x_dir=(1, 0, 0), z_dir=(0, 1, 0)), mode=Mode.PRIVATE) as cut_extrude15_sk2:
        with Locations(Location((42, -128, 0), (0, 0, 270))):
            Circle(SKETCH19_R)
    cut_extrude15_tool2 = extrude(cut_extrude15_sk2.sketch, amount=-CUT_EXTRUDE15_REACH, mode=Mode.PRIVATE) & part.part
    add(cut_extrude15_tool1.solids().sort_by_distance((-42, 4, 128))[0], mode=Mode.SUBTRACT)
    add(cut_extrude15_tool2.solids().sort_by_distance((42, 4, 128))[0], mode=Mode.SUBTRACT)

    # Sketch21 → Cut-Extrude17 (cut, up to next)
    with BuildSketch(Plane(origin=(0, 4, 0), x_dir=(1, 0, 0), z_dir=(0, 1, 0)), mode=Mode.PRIVATE) as cut_extrude17_sk1:
        with Locations(Location((-35, -120, 0), (0, 0, 270))):
            Circle(SKETCH21_R)
    cut_extrude17_tool1 = extrude(cut_extrude17_sk1.sketch, amount=-CUT_EXTRUDE17_REACH, mode=Mode.PRIVATE) & part.part
    # Sketch21 → Cut-Extrude17 (cut, up to next)
    with BuildSketch(Plane(origin=(0, 4, 0), x_dir=(1, 0, 0), z_dir=(0, 1, 0)), mode=Mode.PRIVATE) as cut_extrude17_sk2:
        with Locations(Location((-36, -73, 0), (0, 0, 270))):
            Circle(SKETCH21_R)
    cut_extrude17_tool2 = extrude(cut_extrude17_sk2.sketch, amount=-CUT_EXTRUDE17_REACH, mode=Mode.PRIVATE) & part.part
    # Sketch21 → Cut-Extrude17 (cut, up to next)
    with BuildSketch(Plane(origin=(0, 4, 0), x_dir=(1, 0, 0), z_dir=(0, 1, 0)), mode=Mode.PRIVATE) as cut_extrude17_sk3:
        with Locations(Location((35, -120, 0), (0, 0, 270))):
            Circle(SKETCH21_R)
    cut_extrude17_tool3 = extrude(cut_extrude17_sk3.sketch, amount=-CUT_EXTRUDE17_REACH, mode=Mode.PRIVATE) & part.part
    # Sketch21 → Cut-Extrude17 (cut, up to next)
    with BuildSketch(Plane(origin=(0, 4, 0), x_dir=(1, 0, 0), z_dir=(0, 1, 0)), mode=Mode.PRIVATE) as cut_extrude17_sk4:
        with Locations(Location((36, -73, 0), (0, 0, 270))):
            Circle(SKETCH21_R)
    cut_extrude17_tool4 = extrude(cut_extrude17_sk4.sketch, amount=-CUT_EXTRUDE17_REACH, mode=Mode.PRIVATE) & part.part
    add(cut_extrude17_tool1.solids().sort_by_distance((-35, 4, 120))[0], mode=Mode.SUBTRACT)
    add(cut_extrude17_tool2.solids().sort_by_distance((-36, 4, 73))[0], mode=Mode.SUBTRACT)
    add(cut_extrude17_tool3.solids().sort_by_distance((35, 4, 120))[0], mode=Mode.SUBTRACT)
    add(cut_extrude17_tool4.solids().sort_by_distance((36, 4, 73))[0], mode=Mode.SUBTRACT)

    # Sketch22 → Cut-Extrude18 (cut, up to next)
    with BuildSketch(Plane(origin=(0, 4, 0), x_dir=(1, 0, 0), z_dir=(0, 1, 0)), mode=Mode.PRIVATE) as cut_extrude18_sk1:
        with Locations(Location((120, 32, 0), (0, 0, 270))):
            Circle(SKETCH22_R)
    cut_extrude18_tool1 = extrude(cut_extrude18_sk1.sketch, amount=-CUT_EXTRUDE18_REACH, mode=Mode.PRIVATE) & part.part
    # Sketch22 → Cut-Extrude18 (cut, up to next)
    with BuildSketch(Plane(origin=(0, 4, 0), x_dir=(1, 0, 0), z_dir=(0, 1, 0)), mode=Mode.PRIVATE) as cut_extrude18_sk2:
        with Locations(Location((120, -32, 0), (0, 0, 270))):
            Circle(SKETCH22_R)
    cut_extrude18_tool2 = extrude(cut_extrude18_sk2.sketch, amount=-CUT_EXTRUDE18_REACH, mode=Mode.PRIVATE) & part.part
    # Sketch22 → Cut-Extrude18 (cut, up to next)
    with BuildSketch(Plane(origin=(0, 4, 0), x_dir=(1, 0, 0), z_dir=(0, 1, 0)), mode=Mode.PRIVATE) as cut_extrude18_sk3:
        with Locations(Location((-120, 32, 0), (0, 0, 270))):
            Circle(SKETCH22_R)
    cut_extrude18_tool3 = extrude(cut_extrude18_sk3.sketch, amount=-CUT_EXTRUDE18_REACH, mode=Mode.PRIVATE) & part.part
    # Sketch22 → Cut-Extrude18 (cut, up to next)
    with BuildSketch(Plane(origin=(0, 4, 0), x_dir=(1, 0, 0), z_dir=(0, 1, 0)), mode=Mode.PRIVATE) as cut_extrude18_sk4:
        with Locations(Location((-120, -32, 0), (0, 0, 270))):
            Circle(SKETCH22_R)
    cut_extrude18_tool4 = extrude(cut_extrude18_sk4.sketch, amount=-CUT_EXTRUDE18_REACH, mode=Mode.PRIVATE) & part.part
    add(cut_extrude18_tool1.solids().sort_by_distance((120, 4, -32))[0], mode=Mode.SUBTRACT)
    add(cut_extrude18_tool2.solids().sort_by_distance((120, 4, 32))[0], mode=Mode.SUBTRACT)
    add(cut_extrude18_tool3.solids().sort_by_distance((-120, 4, -32))[0], mode=Mode.SUBTRACT)
    add(cut_extrude18_tool4.solids().sort_by_distance((-120, 4, 32))[0], mode=Mode.SUBTRACT)


solid = part.part
